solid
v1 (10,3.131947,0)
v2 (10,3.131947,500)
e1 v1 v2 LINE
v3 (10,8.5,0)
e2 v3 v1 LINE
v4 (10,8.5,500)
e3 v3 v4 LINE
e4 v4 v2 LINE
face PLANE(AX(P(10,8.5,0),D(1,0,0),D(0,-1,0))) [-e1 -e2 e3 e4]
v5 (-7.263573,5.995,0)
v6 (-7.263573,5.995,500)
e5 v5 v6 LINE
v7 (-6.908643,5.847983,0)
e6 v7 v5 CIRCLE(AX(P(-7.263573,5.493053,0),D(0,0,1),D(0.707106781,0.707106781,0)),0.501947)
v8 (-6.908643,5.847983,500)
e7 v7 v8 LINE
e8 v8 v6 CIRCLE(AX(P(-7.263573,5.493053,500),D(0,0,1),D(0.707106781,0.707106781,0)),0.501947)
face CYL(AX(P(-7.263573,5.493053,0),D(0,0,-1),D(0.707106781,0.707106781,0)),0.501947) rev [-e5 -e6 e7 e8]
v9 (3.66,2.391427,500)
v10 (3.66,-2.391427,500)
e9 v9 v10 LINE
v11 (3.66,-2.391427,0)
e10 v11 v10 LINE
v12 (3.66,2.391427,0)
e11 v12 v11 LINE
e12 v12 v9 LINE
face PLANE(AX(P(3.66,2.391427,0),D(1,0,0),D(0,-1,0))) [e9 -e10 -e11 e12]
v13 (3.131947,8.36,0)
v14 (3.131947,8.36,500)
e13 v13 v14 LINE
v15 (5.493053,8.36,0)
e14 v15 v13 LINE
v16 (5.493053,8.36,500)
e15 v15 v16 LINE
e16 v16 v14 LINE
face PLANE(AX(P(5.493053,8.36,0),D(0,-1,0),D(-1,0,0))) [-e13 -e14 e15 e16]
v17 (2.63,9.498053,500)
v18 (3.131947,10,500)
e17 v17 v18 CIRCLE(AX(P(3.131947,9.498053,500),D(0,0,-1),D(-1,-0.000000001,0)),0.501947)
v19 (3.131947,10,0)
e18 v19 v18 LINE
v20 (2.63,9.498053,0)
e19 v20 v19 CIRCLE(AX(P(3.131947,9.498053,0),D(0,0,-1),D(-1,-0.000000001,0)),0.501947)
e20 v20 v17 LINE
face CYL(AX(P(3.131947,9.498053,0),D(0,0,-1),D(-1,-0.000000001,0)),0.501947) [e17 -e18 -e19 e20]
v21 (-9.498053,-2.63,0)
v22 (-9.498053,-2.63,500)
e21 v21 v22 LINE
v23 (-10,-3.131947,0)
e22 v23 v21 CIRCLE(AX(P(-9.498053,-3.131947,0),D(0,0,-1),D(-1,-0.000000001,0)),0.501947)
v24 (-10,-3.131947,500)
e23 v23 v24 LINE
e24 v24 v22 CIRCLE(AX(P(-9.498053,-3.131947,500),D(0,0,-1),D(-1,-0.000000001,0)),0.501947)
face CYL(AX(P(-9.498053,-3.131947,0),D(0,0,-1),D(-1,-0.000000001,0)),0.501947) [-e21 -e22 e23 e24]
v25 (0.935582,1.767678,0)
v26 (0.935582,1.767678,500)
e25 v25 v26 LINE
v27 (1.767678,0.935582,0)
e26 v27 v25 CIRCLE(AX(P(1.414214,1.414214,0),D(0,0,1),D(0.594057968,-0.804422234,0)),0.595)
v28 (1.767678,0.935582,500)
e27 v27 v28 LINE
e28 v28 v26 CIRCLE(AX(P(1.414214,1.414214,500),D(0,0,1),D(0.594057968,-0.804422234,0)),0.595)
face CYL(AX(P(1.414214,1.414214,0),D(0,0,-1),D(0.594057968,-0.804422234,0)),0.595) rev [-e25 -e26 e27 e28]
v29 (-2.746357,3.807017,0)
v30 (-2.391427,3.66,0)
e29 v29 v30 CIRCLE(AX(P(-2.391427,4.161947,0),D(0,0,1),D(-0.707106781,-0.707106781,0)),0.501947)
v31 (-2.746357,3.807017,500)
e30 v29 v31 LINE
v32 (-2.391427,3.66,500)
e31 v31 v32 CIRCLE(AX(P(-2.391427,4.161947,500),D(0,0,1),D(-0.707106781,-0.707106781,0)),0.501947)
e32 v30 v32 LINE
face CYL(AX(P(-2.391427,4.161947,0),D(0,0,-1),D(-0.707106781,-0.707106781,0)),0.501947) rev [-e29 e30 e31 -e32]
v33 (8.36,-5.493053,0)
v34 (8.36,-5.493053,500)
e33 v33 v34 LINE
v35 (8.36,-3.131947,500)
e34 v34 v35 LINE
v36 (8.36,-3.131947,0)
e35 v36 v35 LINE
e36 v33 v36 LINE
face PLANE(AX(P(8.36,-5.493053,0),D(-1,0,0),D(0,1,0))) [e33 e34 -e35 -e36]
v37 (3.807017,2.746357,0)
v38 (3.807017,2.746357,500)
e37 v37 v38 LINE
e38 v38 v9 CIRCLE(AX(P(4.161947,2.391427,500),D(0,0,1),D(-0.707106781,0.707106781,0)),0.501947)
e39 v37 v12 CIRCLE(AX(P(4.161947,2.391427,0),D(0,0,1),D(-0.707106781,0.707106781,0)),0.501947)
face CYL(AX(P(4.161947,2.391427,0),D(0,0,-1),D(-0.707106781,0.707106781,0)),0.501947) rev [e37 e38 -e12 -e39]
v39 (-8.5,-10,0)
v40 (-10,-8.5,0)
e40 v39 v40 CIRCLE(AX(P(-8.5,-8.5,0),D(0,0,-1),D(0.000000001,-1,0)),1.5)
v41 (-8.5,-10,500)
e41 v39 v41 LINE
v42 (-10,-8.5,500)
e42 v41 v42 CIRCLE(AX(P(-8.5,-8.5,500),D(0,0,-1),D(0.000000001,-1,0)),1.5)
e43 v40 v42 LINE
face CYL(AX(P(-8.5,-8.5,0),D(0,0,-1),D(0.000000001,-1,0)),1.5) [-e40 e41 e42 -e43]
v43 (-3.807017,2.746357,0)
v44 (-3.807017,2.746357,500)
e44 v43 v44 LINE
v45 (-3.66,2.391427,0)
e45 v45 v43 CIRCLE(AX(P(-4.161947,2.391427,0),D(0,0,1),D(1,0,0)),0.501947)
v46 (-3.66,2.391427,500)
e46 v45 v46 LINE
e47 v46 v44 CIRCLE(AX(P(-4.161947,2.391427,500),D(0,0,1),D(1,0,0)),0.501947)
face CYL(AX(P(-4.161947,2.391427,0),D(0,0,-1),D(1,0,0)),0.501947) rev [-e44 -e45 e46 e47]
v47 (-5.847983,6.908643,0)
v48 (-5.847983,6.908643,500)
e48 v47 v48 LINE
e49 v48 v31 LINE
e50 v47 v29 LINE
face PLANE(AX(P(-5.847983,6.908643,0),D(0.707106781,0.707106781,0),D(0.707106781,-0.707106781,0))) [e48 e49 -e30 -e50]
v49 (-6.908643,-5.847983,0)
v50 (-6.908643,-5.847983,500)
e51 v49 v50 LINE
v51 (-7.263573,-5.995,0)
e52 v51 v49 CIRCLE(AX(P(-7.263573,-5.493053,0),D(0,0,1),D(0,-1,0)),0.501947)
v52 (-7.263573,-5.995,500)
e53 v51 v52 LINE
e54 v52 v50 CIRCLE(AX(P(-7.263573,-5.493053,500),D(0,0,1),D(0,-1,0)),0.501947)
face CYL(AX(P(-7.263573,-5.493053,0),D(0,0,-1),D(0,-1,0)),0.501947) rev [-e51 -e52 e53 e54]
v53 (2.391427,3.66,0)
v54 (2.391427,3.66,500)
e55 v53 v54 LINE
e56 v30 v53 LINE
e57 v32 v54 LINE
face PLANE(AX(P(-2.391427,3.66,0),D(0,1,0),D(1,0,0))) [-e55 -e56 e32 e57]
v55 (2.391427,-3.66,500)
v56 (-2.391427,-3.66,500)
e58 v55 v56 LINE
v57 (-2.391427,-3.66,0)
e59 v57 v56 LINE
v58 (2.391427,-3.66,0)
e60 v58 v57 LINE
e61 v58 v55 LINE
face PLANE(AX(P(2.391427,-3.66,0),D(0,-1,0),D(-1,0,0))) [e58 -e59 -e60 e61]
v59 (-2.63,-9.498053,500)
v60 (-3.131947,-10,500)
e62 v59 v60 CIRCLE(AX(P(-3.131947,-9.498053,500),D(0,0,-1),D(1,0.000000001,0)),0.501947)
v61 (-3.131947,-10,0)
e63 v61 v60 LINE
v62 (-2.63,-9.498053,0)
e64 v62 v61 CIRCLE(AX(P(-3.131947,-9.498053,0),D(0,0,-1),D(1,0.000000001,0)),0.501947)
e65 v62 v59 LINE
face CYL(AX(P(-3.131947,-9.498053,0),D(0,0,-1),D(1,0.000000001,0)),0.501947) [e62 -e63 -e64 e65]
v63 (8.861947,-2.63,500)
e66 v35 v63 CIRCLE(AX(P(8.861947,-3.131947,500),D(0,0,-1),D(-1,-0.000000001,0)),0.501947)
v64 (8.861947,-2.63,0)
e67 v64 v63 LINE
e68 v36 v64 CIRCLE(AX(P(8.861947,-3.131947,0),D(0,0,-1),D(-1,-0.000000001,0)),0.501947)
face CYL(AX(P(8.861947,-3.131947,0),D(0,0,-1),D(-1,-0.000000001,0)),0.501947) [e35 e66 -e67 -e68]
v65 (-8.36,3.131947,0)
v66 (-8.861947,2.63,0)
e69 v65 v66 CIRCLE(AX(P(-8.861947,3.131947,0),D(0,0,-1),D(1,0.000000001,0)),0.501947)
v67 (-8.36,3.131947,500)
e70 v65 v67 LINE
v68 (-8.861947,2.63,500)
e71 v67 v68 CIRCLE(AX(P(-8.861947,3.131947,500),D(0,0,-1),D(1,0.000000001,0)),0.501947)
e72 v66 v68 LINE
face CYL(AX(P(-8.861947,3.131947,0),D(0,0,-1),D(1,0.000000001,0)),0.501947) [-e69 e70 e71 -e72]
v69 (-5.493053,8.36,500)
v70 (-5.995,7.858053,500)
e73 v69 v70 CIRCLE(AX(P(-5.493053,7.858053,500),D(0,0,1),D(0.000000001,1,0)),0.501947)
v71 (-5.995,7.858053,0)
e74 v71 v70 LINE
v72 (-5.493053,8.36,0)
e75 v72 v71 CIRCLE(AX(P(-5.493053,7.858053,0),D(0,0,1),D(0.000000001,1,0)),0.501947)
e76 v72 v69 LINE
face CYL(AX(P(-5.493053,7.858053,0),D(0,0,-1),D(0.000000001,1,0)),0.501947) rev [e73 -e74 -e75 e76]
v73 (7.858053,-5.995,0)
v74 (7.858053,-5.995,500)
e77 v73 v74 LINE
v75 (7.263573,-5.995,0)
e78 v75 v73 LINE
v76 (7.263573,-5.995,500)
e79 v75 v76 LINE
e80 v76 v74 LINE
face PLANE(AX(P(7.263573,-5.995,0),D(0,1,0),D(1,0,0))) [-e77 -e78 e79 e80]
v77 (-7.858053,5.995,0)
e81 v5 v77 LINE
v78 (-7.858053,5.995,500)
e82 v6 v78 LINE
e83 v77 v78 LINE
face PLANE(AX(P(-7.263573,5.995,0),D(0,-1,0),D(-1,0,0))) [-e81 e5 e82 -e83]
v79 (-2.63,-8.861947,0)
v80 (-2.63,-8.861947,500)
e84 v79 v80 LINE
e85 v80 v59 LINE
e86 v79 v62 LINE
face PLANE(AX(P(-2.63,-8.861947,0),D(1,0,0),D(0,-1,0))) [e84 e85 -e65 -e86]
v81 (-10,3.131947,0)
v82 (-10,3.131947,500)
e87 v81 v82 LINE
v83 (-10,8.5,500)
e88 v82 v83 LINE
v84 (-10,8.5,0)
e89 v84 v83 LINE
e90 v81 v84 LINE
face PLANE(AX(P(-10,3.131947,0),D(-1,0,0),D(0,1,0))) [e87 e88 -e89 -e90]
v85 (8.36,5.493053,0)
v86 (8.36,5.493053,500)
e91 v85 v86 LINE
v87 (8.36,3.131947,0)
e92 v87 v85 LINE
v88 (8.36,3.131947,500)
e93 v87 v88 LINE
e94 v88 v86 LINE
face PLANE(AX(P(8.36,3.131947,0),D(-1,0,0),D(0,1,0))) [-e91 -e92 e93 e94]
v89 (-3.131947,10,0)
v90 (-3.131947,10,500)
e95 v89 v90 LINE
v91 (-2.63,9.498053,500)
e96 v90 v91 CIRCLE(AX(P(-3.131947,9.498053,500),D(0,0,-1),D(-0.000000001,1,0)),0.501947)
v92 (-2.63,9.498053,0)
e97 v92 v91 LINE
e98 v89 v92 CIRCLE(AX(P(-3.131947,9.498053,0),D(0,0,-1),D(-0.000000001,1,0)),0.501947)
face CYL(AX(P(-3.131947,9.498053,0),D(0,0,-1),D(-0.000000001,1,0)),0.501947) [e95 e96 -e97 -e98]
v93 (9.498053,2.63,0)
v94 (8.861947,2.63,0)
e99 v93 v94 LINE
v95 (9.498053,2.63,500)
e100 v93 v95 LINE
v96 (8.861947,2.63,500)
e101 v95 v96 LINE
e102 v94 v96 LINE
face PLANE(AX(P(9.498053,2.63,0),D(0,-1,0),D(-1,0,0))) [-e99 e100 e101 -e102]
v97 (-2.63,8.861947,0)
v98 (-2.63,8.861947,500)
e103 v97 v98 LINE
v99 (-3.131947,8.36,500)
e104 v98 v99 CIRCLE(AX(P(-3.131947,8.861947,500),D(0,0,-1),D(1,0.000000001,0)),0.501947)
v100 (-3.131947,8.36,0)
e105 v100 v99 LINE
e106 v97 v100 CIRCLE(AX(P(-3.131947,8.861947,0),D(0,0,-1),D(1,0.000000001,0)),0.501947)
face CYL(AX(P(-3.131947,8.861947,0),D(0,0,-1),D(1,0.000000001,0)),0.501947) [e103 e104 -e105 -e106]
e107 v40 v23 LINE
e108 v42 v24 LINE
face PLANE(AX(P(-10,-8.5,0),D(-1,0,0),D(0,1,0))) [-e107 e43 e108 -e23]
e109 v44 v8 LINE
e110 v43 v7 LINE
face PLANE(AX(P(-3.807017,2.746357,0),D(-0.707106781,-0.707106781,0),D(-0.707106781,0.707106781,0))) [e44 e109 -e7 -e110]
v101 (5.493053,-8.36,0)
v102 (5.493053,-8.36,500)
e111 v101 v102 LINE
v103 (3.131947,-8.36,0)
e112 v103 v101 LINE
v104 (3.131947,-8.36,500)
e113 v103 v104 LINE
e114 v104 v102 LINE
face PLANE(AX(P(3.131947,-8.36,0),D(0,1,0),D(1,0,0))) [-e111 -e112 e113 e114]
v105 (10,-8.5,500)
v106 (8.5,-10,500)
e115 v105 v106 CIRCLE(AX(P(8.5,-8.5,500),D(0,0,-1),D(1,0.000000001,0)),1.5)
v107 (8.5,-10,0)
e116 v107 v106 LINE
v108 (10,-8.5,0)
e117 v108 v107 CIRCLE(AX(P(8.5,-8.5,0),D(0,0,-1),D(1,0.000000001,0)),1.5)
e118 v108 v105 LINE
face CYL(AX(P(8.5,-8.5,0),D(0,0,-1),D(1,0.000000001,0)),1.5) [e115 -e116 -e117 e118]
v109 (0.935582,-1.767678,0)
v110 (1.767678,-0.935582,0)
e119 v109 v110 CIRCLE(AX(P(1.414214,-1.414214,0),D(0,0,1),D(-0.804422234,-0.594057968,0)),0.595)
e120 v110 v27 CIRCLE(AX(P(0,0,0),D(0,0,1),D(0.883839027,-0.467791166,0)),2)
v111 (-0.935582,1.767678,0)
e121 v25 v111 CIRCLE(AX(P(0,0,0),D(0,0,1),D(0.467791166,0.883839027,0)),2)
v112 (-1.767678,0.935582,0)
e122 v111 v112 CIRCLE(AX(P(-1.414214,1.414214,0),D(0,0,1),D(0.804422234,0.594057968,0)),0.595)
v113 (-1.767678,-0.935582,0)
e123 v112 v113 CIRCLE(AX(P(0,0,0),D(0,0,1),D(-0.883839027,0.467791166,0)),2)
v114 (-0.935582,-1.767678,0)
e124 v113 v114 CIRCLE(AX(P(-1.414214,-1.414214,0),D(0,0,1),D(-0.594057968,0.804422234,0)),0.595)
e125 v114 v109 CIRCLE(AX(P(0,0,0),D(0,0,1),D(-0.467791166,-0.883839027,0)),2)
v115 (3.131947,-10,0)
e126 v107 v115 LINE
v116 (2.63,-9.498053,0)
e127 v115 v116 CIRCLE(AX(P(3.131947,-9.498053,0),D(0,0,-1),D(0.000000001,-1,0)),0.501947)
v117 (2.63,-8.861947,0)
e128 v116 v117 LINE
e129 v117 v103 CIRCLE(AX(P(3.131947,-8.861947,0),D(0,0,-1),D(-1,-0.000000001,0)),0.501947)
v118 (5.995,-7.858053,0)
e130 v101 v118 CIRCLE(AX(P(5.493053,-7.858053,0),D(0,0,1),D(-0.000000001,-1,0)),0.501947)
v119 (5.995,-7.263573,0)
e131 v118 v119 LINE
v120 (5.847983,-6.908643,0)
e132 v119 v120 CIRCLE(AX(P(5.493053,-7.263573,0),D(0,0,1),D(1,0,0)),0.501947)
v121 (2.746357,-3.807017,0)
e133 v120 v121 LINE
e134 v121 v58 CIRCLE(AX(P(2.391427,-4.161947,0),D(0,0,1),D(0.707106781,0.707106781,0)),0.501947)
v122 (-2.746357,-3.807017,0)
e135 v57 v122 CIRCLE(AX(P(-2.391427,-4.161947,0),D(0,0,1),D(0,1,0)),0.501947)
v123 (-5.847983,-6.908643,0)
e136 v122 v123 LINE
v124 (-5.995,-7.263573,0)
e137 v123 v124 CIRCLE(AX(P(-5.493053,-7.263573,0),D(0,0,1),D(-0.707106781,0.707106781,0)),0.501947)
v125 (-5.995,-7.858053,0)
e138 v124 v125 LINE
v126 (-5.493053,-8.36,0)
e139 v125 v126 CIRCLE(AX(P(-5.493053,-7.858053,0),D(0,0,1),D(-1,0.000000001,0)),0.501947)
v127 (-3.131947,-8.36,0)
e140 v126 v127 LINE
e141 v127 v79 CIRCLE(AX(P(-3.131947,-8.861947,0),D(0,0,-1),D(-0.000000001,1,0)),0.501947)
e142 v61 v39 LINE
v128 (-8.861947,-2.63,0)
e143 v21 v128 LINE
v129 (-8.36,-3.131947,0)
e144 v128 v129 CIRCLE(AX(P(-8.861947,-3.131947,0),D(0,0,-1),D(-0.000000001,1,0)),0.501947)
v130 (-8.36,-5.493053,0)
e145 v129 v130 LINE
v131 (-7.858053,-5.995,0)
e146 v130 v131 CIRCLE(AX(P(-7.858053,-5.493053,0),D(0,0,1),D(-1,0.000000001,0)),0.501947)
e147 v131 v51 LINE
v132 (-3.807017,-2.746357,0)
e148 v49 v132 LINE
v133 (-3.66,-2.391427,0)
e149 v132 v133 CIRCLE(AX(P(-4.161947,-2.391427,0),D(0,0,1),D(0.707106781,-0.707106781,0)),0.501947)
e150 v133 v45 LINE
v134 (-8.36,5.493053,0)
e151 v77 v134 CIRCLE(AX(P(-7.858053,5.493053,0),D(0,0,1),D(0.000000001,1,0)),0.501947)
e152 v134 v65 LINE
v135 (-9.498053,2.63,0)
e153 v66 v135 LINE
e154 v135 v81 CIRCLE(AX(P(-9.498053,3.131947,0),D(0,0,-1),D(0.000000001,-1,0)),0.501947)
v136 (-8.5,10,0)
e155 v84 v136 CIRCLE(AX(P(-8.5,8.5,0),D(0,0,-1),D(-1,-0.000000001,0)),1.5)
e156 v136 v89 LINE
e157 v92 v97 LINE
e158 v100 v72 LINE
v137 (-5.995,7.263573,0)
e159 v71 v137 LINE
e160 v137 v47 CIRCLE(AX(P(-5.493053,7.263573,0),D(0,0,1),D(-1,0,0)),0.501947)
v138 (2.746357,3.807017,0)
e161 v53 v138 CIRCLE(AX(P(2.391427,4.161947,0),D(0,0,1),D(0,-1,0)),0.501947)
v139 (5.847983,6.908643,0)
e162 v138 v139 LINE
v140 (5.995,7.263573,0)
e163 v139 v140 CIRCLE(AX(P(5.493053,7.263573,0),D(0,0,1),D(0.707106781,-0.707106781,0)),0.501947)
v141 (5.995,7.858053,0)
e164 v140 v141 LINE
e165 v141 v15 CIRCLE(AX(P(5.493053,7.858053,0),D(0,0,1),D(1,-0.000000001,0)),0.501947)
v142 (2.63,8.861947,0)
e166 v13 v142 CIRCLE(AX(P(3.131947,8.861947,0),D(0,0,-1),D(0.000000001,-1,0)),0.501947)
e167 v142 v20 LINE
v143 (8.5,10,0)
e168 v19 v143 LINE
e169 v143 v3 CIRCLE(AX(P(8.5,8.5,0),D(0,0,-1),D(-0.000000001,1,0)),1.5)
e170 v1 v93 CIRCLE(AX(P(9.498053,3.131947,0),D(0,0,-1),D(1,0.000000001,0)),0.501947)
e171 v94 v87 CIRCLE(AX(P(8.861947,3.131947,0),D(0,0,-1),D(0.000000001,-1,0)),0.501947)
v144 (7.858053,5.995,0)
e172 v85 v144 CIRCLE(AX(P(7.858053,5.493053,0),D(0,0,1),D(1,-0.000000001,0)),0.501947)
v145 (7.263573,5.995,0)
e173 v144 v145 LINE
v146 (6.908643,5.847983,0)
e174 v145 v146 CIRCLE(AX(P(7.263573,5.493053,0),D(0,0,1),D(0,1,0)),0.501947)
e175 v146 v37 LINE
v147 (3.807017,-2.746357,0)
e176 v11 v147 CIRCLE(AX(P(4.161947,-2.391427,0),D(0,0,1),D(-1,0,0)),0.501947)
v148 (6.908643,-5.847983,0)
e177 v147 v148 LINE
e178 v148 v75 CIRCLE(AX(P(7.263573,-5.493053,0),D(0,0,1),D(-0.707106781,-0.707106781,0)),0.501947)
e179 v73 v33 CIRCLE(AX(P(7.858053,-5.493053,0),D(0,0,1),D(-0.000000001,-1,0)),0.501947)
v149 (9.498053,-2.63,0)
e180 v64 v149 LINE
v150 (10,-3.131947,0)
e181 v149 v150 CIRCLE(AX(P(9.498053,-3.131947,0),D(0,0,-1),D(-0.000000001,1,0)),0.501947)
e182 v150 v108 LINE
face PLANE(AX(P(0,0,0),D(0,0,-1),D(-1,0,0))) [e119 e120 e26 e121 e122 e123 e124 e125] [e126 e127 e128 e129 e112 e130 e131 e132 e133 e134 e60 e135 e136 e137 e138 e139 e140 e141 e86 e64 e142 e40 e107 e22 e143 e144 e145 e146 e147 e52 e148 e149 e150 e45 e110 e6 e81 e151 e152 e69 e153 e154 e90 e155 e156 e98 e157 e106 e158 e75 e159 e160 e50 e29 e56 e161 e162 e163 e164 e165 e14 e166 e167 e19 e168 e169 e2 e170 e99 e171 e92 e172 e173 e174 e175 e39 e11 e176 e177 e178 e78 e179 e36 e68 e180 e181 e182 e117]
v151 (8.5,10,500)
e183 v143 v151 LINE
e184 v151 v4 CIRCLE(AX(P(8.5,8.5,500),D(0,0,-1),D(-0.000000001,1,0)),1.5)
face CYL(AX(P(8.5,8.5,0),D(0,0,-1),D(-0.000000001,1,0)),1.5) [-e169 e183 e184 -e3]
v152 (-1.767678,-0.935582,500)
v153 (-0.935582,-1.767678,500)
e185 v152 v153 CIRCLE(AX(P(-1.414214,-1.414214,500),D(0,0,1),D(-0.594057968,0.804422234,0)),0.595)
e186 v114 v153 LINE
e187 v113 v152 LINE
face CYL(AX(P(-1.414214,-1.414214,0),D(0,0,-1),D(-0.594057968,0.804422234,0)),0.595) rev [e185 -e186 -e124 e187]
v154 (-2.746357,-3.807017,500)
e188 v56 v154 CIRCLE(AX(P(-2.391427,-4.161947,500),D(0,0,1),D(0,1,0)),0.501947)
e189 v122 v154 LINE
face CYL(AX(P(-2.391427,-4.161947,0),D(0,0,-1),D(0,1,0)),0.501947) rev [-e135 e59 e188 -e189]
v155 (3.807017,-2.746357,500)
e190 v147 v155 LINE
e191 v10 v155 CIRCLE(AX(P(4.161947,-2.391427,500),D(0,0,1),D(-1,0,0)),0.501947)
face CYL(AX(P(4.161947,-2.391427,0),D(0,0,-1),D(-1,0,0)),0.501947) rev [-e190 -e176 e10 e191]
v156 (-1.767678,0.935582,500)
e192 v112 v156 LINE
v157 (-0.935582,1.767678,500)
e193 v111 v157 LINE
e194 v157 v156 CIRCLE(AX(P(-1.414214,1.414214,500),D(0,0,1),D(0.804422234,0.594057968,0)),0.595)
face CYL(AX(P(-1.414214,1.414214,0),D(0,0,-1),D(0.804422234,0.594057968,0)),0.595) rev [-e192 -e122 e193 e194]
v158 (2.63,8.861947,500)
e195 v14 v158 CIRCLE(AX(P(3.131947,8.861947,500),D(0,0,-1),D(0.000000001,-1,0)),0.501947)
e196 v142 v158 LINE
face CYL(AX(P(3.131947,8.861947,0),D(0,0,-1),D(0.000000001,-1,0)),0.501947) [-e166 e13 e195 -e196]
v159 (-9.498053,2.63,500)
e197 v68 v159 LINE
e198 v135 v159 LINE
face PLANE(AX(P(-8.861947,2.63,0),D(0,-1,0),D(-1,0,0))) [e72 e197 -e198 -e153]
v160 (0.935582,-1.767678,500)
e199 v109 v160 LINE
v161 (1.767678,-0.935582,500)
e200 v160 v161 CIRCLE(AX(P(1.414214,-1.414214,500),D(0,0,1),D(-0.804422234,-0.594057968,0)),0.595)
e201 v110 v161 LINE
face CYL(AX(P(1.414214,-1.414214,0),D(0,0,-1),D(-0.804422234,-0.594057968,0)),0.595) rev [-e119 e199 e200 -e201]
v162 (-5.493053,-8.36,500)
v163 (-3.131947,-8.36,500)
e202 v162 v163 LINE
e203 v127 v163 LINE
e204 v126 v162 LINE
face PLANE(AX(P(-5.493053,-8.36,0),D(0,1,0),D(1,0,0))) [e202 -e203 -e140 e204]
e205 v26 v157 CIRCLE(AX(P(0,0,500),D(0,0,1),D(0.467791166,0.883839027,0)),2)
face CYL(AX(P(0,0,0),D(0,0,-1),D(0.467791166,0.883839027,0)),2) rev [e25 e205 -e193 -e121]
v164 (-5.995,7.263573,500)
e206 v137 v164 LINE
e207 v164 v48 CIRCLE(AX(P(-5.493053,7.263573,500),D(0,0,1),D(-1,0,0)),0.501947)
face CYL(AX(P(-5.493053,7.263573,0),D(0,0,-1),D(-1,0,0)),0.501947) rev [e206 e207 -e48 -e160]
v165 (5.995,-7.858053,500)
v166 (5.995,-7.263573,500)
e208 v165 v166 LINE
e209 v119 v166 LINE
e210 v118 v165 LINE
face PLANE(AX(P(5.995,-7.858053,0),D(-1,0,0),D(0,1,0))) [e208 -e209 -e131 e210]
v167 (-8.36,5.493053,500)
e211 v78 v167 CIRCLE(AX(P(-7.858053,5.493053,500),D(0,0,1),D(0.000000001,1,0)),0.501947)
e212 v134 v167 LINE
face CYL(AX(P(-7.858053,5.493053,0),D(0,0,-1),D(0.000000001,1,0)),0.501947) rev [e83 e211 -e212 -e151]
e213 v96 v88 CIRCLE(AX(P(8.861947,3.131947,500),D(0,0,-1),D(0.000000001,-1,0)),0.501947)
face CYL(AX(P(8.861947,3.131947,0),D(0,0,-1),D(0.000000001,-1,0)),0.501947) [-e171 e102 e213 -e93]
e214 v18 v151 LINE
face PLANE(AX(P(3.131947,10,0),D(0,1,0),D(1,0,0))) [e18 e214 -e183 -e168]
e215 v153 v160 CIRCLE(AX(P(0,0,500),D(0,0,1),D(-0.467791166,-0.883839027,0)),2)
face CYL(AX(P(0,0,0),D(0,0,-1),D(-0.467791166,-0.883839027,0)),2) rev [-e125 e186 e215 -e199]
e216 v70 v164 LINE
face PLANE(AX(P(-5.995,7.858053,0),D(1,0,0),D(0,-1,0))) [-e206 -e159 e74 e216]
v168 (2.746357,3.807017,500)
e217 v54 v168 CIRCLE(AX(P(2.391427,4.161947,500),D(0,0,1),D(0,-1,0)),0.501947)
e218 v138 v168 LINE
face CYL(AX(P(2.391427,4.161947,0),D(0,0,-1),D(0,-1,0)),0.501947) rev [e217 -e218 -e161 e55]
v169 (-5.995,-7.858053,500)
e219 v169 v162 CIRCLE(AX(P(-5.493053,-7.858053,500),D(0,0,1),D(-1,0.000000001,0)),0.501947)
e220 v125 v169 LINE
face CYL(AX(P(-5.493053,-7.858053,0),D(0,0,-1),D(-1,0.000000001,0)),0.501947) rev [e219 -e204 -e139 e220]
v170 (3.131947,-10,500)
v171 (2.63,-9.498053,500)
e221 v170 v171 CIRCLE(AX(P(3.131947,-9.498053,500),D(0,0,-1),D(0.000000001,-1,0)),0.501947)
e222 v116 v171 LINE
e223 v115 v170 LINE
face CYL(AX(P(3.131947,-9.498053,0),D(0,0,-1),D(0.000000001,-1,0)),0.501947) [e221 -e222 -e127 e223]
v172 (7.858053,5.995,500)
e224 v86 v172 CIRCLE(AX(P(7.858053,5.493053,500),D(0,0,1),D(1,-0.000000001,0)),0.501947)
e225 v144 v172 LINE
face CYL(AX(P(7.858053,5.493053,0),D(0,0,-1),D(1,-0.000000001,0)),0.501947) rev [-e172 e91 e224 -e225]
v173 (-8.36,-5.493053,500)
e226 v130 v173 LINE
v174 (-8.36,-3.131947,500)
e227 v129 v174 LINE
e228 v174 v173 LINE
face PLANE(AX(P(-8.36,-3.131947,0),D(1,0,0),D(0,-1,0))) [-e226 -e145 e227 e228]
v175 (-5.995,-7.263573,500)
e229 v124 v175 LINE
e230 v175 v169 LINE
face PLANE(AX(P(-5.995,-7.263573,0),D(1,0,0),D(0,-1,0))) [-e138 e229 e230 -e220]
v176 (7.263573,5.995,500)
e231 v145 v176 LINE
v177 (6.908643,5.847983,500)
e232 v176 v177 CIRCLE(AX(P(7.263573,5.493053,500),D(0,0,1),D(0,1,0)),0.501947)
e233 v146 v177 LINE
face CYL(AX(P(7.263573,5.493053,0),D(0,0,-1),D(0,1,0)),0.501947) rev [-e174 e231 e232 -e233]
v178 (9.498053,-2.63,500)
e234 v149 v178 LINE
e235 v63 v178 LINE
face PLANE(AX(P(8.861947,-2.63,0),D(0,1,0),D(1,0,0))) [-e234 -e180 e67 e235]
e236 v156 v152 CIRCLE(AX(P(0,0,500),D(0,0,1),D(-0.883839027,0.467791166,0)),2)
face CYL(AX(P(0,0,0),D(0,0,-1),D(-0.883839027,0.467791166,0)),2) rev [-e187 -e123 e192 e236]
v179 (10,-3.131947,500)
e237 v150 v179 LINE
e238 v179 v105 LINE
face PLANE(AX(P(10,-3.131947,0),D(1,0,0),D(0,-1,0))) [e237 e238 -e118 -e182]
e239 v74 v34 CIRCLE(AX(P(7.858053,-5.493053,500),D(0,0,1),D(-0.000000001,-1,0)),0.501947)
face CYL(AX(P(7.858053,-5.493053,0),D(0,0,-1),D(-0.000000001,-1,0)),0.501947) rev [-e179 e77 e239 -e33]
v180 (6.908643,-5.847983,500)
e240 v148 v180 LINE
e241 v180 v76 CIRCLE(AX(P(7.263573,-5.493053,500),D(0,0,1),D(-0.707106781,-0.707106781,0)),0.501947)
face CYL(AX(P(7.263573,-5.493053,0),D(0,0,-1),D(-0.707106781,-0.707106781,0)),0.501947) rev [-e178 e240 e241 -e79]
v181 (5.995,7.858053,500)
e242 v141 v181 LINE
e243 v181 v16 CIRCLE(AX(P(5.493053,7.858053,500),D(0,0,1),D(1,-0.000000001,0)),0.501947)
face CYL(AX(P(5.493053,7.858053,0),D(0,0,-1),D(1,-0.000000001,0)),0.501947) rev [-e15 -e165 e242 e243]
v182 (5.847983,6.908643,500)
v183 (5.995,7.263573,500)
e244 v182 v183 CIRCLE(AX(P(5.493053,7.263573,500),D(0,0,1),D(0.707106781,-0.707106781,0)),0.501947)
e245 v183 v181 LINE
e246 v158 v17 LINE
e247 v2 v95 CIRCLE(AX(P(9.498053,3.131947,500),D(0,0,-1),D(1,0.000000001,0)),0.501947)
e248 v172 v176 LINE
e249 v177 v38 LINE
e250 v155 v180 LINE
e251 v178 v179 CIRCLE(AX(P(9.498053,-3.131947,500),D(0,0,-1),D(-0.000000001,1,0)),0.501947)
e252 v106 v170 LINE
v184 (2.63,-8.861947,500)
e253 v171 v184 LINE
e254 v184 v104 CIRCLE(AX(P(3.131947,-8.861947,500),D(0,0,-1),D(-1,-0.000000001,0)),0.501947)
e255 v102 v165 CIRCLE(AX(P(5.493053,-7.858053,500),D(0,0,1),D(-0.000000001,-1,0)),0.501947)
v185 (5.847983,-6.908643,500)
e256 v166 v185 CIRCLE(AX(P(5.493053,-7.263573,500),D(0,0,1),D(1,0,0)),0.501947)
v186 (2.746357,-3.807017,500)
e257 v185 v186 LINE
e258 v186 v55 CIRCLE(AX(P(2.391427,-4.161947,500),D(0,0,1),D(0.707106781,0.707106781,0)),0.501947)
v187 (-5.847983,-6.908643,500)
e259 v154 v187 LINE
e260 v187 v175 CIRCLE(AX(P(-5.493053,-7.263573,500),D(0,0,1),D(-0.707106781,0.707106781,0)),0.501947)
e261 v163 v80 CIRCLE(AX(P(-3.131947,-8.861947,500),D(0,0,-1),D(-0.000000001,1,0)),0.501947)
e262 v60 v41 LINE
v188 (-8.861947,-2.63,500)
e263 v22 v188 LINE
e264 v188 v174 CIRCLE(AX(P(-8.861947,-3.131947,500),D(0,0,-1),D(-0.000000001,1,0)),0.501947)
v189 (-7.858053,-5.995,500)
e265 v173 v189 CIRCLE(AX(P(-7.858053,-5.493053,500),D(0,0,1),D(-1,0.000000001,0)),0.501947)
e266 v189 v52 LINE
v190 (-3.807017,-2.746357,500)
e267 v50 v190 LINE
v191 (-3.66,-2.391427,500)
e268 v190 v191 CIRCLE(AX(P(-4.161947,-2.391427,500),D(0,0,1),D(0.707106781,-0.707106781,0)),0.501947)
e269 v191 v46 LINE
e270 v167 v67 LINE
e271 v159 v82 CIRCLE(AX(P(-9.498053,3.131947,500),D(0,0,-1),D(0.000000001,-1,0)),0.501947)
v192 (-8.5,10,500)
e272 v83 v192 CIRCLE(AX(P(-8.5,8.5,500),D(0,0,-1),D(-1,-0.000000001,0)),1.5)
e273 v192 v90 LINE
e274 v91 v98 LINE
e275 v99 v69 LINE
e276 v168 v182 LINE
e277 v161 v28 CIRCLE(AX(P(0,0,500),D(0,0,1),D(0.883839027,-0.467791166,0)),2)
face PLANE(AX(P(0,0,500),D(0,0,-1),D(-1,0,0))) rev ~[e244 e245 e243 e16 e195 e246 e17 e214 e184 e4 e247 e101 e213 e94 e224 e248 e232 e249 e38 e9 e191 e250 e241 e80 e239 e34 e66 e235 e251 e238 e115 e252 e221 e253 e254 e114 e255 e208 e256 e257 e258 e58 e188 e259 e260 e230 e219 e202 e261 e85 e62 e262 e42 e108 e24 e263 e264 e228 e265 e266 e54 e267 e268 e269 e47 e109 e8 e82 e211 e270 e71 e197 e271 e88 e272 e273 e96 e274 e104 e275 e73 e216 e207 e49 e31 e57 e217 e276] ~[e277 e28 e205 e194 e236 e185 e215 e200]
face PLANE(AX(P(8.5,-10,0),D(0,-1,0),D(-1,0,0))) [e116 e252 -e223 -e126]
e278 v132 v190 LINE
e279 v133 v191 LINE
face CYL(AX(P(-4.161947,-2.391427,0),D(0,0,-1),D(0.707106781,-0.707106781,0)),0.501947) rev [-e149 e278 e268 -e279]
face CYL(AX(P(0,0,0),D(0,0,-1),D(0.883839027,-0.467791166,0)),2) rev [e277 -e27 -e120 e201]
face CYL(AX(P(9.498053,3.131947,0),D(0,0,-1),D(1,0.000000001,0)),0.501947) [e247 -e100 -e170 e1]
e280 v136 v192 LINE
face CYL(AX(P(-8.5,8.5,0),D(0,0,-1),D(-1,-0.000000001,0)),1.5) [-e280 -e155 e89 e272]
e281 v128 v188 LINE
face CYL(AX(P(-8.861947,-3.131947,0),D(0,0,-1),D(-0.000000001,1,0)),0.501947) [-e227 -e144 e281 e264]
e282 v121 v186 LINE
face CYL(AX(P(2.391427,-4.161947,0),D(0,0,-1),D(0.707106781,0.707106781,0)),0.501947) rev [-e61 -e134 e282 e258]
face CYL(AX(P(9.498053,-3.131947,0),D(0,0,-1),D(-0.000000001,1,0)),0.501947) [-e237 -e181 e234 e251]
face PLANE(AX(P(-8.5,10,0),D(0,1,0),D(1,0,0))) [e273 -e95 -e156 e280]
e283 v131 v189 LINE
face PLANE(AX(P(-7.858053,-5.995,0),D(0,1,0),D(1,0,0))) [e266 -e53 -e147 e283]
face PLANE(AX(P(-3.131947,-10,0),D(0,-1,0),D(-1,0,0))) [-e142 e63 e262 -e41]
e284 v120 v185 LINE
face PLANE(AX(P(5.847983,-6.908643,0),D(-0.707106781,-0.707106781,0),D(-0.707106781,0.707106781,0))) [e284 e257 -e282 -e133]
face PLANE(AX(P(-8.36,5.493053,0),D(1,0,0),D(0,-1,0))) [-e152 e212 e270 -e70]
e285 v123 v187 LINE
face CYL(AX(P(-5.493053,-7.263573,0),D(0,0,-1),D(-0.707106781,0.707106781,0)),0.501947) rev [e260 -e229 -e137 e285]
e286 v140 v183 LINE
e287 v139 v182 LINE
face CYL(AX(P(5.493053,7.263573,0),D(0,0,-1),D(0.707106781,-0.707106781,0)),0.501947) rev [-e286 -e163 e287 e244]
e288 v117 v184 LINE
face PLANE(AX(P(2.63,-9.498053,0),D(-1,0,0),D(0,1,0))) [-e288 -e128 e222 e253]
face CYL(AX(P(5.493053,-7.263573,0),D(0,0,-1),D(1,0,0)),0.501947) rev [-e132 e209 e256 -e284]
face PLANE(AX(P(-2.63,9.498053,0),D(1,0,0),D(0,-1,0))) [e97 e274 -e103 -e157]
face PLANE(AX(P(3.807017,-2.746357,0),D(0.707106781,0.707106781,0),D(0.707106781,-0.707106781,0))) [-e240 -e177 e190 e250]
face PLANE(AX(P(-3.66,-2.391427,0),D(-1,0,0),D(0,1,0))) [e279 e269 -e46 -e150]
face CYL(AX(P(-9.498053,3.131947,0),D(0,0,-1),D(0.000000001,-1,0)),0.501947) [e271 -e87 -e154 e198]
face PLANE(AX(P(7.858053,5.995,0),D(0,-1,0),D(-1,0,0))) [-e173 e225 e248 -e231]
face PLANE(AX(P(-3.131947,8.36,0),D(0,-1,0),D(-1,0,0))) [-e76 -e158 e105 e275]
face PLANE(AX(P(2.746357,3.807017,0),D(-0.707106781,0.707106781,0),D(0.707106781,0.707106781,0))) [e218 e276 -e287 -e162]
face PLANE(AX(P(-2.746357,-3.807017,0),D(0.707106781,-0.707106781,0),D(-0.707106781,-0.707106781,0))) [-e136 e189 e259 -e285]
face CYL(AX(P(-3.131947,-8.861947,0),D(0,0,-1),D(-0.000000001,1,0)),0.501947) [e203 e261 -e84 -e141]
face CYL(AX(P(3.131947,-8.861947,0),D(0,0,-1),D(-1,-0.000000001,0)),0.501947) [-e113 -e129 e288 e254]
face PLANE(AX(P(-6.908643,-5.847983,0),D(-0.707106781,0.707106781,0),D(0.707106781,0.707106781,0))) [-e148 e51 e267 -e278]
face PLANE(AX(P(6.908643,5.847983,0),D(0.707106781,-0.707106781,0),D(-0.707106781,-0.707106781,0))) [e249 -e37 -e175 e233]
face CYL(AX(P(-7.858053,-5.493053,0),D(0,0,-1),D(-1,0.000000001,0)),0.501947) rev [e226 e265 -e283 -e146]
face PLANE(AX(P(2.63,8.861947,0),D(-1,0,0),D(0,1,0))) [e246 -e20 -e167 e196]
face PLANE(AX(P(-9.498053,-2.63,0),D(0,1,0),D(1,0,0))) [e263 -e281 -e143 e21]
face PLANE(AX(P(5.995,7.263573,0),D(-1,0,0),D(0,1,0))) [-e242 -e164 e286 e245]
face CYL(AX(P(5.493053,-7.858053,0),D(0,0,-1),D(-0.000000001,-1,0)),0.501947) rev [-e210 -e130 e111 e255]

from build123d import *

# Parameters (mm, degrees)
BOSS_EXTRUDE1_DEPTH = 500


with BuildPart() as part:
    # Sketch1 → Boss-Extrude1 (new body)
    with BuildSketch(Plane.XY):
        with BuildLine():
            Line((-2.746356642, -3.807016814), (-5.847983186, -6.908643358))
            ThreePointArc((-5.847983186, -6.908643358), (-5.956791575, -7.07148662), (-5.995, -7.263573344))
            Line((-5.995, -7.263573344), (-5.995, -7.858053199))
            ThreePointArc((-5.995, -7.858053199), (-5.847983186, -8.212983186), (-5.493053199, -8.36))
            Line((-5.493053199, -8.36), (-3.131946801, -8.36))
            ThreePointArc((-3.131946801, -8.36), (-2.777016814, -8.507016814), (-2.63, -8.861946801))
            Line((-2.63, -8.861946801), (-2.63, -9.498053199))
            ThreePointArc((-2.63, -9.498053199), (-2.777016814, -9.852983186), (-3.131946801, -10))
            Line((-3.131946801, -10), (-8.5, -10))
            ThreePointArc((-8.5, -10), (-9.560660172, -9.560660172), (-10, -8.5))
            Line((-10, -8.5), (-10, -3.131946801))
            ThreePointArc((-10, -3.131946801), (-9.852983186, -2.777016814), (-9.498053199, -2.63))
            Line((-9.498053199, -2.63), (-8.861946801, -2.63))
            ThreePointArc((-8.861946801, -2.63), (-8.507016814, -2.777016814), (-8.36, -3.131946801))
            Line((-8.36, -3.131946801), (-8.36, -5.493053199))
            ThreePointArc((-8.36, -5.493053199), (-8.212983186, -5.847983186), (-7.858053199, -5.995))
            Line((-7.858053199, -5.995), (-7.263573344, -5.995))
            ThreePointArc((-7.263573344, -5.995), (-7.07148662, -5.956791575), (-6.908643358, -5.847983186))
            Line((-6.908643358, -5.847983186), (-3.807016814, -2.746356642))
            ThreePointArc((-3.807016814, -2.746356642), (-3.698208425, -2.58351338), (-3.66, -2.391426656))
            Line((-3.66, -2.391426656), (-3.66, 2.391426656))
            ThreePointArc((-3.66, 2.391426656), (-3.698208425, 2.58351338), (-3.807016814, 2.746356642))
            Line((-3.807016814, 2.746356642), (-6.908643358, 5.847983186))
            ThreePointArc((-6.908643358, 5.847983186), (-7.07148662, 5.956791575), (-7.263573344, 5.995))
            Line((-7.263573344, 5.995), (-7.858053199, 5.995))
            ThreePointArc((-7.858053199, 5.995), (-8.212983186, 5.847983186), (-8.36, 5.493053199))
            Line((-8.36, 5.493053199), (-8.36, 3.131946801))
            ThreePointArc((-8.36, 3.131946801), (-8.507016814, 2.777016814), (-8.861946801, 2.63))
            Line((-8.861946801, 2.63), (-9.498053199, 2.63))
            ThreePointArc((-9.498053199, 2.63), (-9.852983186, 2.777016814), (-10, 3.131946801))
            Line((-10, 3.131946801), (-10, 8.5))
            ThreePointArc((-10, 8.5), (-9.560660172, 9.560660172), (-8.5, 10))
            Line((-8.5, 10), (-3.131946801, 10))
            ThreePointArc((-3.131946801, 10), (-2.777016814, 9.852983186), (-2.63, 9.498053199))
            Line((-2.63, 9.498053199), (-2.63, 8.861946801))
            ThreePointArc((-2.63, 8.861946801), (-2.777016814, 8.507016814), (-3.131946801, 8.36))
            Line((-3.131946801, 8.36), (-5.493053199, 8.36))
            ThreePointArc((-5.493053199, 8.36), (-5.847983186, 8.212983186), (-5.995, 7.858053199))
            Line((-5.995, 7.858053199), (-5.995, 7.263573344))
            ThreePointArc((-5.995, 7.263573344), (-5.956791575, 7.07148662), (-5.847983186, 6.908643358))
            Line((-5.847983186, 6.908643358), (-2.746356642, 3.807016814))
            ThreePointArc((-2.746356642, 3.807016814), (-2.58351338, 3.698208425), (-2.391426656, 3.66))
            Line((-2.391426656, 3.66), (2.391426656, 3.66))
            ThreePointArc((2.391426656, 3.66), (2.58351338, 3.698208425), (2.746356642, 3.807016814))
            Line((2.746356642, 3.807016814), (5.847983186, 6.908643358))
            ThreePointArc((5.847983186, 6.908643358), (5.956791575, 7.07148662), (5.995, 7.263573344))
            Line((5.995, 7.263573344), (5.995, 7.858053199))
            ThreePointArc((5.995, 7.858053199), (5.847983186, 8.212983186), (5.493053199, 8.36))
            Line((5.493053199, 8.36), (3.131946801, 8.36))
            ThreePointArc((3.131946801, 8.36), (2.777016814, 8.507016814), (2.63, 8.861946801))
            Line((2.63, 8.861946801), (2.63, 9.498053199))
            ThreePointArc((2.63, 9.498053199), (2.777016814, 9.852983186), (3.131946801, 10))
            Line((3.131946801, 10), (8.5, 10))
            ThreePointArc((8.5, 10), (9.560660172, 9.560660172), (10, 8.5))
            Line((10, 8.5), (10, 3.131946801))
            ThreePointArc((10, 3.131946801), (9.852983186, 2.777016814), (9.498053199, 2.63))
            Line((9.498053199, 2.63), (8.861946801, 2.63))
            ThreePointArc((8.861946801, 2.63), (8.507016814, 2.777016814), (8.36, 3.131946801))
            Line((8.36, 3.131946801), (8.36, 5.493053199))
            ThreePointArc((8.36, 5.493053199), (8.212983186, 5.847983186), (7.858053199, 5.995))
            Line((7.858053199, 5.995), (7.263573344, 5.995))
            ThreePointArc((7.263573344, 5.995), (7.07148662, 5.956791575), (6.908643358, 5.847983186))
            Line((6.908643358, 5.847983186), (3.807016814, 2.746356642))
            ThreePointArc((3.807016814, 2.746356642), (3.698208425, 2.58351338), (3.66, 2.391426656))
            Line((3.66, 2.391426656), (3.66, -2.391426656))
            ThreePointArc((3.66, -2.391426656), (3.698208425, -2.58351338), (3.807016814, -2.746356642))
            Line((3.807016814, -2.746356642), (6.908643358, -5.847983186))
            ThreePointArc((6.908643358, -5.847983186), (7.07148662, -5.956791575), (7.263573344, -5.995))
            Line((7.263573344, -5.995), (7.858053199, -5.995))
            ThreePointArc((7.858053199, -5.995), (8.212983186, -5.847983186), (8.36, -5.493053199))
            Line((8.36, -5.493053199), (8.36, -3.131946801))
            ThreePointArc((8.36, -3.131946801), (8.507016814, -2.777016814), (8.861946801, -2.63))
            Line((8.861946801, -2.63), (9.498053199, -2.63))
            ThreePointArc((9.498053199, -2.63), (9.852983186, -2.777016814), (10, -3.131946801))
            Line((10, -3.131946801), (10, -8.5))
            ThreePointArc((10, -8.5), (9.560660172, -9.560660172), (8.5, -10))
            Line((8.5, -10), (3.131946801, -10))
            ThreePointArc((3.131946801, -10), (2.777016814, -9.852983186), (2.63, -9.498053199))
            Line((2.63, -9.498053199), (2.63, -8.861946801))
            ThreePointArc((2.63, -8.861946801), (2.777016814, -8.507016814), (3.131946801, -8.36))
            Line((3.131946801, -8.36), (5.493053199, -8.36))
            ThreePointArc((5.493053199, -8.36), (5.847983186, -8.212983186), (5.995, -7.858053199))
            Line((5.995, -7.858053199), (5.995, -7.263573344))
            ThreePointArc((5.995, -7.263573344), (5.956791575, -7.07148662), (5.847983186, -6.908643358))
            Line((5.847983186, -6.908643358), (2.746356642, -3.807016814))
            ThreePointArc((2.746356642, -3.807016814), (2.58351338, -3.698208425), (2.391426656, -3.66))
            Line((2.391426656, -3.66), (-2.391426656, -3.66))
            ThreePointArc((-2.391426656, -3.66), (-2.58351338, -3.698208425), (-2.746356642, -3.807016814))
        make_face()
        with BuildLine():
            ThreePointArc((-1.767678053, 0.935582333), (-2, 0), (-1.767678053, -0.935582333))
            ThreePointArc((-1.767678053, -0.935582333), (-1.834942097, -1.834942097), (-0.935582333, -1.767678053))
            ThreePointArc((-0.935582333, -1.767678053), (0, -2), (0.935582333, -1.767678053))
            ThreePointArc((0.935582333, -1.767678053), (1.834942097, -1.834942097), (1.767678053, -0.935582333))
            ThreePointArc((1.767678053, -0.935582333), (2, 0), (1.767678053, 0.935582333))
            ThreePointArc((1.767678053, 0.935582333), (1.834942097, 1.834942097), (0.935582333, 1.767678053))
            ThreePointArc((0.935582333, 1.767678053), (0, 2), (-0.935582333, 1.767678053))
            ThreePointArc((-0.935582333, 1.767678053), (-1.834942097, 1.834942097), (-1.767678053, 0.935582333))
        make_face(mode=Mode.SUBTRACT)
    extrude(amount=BOSS_EXTRUDE1_DEPTH)


solid = part.part
